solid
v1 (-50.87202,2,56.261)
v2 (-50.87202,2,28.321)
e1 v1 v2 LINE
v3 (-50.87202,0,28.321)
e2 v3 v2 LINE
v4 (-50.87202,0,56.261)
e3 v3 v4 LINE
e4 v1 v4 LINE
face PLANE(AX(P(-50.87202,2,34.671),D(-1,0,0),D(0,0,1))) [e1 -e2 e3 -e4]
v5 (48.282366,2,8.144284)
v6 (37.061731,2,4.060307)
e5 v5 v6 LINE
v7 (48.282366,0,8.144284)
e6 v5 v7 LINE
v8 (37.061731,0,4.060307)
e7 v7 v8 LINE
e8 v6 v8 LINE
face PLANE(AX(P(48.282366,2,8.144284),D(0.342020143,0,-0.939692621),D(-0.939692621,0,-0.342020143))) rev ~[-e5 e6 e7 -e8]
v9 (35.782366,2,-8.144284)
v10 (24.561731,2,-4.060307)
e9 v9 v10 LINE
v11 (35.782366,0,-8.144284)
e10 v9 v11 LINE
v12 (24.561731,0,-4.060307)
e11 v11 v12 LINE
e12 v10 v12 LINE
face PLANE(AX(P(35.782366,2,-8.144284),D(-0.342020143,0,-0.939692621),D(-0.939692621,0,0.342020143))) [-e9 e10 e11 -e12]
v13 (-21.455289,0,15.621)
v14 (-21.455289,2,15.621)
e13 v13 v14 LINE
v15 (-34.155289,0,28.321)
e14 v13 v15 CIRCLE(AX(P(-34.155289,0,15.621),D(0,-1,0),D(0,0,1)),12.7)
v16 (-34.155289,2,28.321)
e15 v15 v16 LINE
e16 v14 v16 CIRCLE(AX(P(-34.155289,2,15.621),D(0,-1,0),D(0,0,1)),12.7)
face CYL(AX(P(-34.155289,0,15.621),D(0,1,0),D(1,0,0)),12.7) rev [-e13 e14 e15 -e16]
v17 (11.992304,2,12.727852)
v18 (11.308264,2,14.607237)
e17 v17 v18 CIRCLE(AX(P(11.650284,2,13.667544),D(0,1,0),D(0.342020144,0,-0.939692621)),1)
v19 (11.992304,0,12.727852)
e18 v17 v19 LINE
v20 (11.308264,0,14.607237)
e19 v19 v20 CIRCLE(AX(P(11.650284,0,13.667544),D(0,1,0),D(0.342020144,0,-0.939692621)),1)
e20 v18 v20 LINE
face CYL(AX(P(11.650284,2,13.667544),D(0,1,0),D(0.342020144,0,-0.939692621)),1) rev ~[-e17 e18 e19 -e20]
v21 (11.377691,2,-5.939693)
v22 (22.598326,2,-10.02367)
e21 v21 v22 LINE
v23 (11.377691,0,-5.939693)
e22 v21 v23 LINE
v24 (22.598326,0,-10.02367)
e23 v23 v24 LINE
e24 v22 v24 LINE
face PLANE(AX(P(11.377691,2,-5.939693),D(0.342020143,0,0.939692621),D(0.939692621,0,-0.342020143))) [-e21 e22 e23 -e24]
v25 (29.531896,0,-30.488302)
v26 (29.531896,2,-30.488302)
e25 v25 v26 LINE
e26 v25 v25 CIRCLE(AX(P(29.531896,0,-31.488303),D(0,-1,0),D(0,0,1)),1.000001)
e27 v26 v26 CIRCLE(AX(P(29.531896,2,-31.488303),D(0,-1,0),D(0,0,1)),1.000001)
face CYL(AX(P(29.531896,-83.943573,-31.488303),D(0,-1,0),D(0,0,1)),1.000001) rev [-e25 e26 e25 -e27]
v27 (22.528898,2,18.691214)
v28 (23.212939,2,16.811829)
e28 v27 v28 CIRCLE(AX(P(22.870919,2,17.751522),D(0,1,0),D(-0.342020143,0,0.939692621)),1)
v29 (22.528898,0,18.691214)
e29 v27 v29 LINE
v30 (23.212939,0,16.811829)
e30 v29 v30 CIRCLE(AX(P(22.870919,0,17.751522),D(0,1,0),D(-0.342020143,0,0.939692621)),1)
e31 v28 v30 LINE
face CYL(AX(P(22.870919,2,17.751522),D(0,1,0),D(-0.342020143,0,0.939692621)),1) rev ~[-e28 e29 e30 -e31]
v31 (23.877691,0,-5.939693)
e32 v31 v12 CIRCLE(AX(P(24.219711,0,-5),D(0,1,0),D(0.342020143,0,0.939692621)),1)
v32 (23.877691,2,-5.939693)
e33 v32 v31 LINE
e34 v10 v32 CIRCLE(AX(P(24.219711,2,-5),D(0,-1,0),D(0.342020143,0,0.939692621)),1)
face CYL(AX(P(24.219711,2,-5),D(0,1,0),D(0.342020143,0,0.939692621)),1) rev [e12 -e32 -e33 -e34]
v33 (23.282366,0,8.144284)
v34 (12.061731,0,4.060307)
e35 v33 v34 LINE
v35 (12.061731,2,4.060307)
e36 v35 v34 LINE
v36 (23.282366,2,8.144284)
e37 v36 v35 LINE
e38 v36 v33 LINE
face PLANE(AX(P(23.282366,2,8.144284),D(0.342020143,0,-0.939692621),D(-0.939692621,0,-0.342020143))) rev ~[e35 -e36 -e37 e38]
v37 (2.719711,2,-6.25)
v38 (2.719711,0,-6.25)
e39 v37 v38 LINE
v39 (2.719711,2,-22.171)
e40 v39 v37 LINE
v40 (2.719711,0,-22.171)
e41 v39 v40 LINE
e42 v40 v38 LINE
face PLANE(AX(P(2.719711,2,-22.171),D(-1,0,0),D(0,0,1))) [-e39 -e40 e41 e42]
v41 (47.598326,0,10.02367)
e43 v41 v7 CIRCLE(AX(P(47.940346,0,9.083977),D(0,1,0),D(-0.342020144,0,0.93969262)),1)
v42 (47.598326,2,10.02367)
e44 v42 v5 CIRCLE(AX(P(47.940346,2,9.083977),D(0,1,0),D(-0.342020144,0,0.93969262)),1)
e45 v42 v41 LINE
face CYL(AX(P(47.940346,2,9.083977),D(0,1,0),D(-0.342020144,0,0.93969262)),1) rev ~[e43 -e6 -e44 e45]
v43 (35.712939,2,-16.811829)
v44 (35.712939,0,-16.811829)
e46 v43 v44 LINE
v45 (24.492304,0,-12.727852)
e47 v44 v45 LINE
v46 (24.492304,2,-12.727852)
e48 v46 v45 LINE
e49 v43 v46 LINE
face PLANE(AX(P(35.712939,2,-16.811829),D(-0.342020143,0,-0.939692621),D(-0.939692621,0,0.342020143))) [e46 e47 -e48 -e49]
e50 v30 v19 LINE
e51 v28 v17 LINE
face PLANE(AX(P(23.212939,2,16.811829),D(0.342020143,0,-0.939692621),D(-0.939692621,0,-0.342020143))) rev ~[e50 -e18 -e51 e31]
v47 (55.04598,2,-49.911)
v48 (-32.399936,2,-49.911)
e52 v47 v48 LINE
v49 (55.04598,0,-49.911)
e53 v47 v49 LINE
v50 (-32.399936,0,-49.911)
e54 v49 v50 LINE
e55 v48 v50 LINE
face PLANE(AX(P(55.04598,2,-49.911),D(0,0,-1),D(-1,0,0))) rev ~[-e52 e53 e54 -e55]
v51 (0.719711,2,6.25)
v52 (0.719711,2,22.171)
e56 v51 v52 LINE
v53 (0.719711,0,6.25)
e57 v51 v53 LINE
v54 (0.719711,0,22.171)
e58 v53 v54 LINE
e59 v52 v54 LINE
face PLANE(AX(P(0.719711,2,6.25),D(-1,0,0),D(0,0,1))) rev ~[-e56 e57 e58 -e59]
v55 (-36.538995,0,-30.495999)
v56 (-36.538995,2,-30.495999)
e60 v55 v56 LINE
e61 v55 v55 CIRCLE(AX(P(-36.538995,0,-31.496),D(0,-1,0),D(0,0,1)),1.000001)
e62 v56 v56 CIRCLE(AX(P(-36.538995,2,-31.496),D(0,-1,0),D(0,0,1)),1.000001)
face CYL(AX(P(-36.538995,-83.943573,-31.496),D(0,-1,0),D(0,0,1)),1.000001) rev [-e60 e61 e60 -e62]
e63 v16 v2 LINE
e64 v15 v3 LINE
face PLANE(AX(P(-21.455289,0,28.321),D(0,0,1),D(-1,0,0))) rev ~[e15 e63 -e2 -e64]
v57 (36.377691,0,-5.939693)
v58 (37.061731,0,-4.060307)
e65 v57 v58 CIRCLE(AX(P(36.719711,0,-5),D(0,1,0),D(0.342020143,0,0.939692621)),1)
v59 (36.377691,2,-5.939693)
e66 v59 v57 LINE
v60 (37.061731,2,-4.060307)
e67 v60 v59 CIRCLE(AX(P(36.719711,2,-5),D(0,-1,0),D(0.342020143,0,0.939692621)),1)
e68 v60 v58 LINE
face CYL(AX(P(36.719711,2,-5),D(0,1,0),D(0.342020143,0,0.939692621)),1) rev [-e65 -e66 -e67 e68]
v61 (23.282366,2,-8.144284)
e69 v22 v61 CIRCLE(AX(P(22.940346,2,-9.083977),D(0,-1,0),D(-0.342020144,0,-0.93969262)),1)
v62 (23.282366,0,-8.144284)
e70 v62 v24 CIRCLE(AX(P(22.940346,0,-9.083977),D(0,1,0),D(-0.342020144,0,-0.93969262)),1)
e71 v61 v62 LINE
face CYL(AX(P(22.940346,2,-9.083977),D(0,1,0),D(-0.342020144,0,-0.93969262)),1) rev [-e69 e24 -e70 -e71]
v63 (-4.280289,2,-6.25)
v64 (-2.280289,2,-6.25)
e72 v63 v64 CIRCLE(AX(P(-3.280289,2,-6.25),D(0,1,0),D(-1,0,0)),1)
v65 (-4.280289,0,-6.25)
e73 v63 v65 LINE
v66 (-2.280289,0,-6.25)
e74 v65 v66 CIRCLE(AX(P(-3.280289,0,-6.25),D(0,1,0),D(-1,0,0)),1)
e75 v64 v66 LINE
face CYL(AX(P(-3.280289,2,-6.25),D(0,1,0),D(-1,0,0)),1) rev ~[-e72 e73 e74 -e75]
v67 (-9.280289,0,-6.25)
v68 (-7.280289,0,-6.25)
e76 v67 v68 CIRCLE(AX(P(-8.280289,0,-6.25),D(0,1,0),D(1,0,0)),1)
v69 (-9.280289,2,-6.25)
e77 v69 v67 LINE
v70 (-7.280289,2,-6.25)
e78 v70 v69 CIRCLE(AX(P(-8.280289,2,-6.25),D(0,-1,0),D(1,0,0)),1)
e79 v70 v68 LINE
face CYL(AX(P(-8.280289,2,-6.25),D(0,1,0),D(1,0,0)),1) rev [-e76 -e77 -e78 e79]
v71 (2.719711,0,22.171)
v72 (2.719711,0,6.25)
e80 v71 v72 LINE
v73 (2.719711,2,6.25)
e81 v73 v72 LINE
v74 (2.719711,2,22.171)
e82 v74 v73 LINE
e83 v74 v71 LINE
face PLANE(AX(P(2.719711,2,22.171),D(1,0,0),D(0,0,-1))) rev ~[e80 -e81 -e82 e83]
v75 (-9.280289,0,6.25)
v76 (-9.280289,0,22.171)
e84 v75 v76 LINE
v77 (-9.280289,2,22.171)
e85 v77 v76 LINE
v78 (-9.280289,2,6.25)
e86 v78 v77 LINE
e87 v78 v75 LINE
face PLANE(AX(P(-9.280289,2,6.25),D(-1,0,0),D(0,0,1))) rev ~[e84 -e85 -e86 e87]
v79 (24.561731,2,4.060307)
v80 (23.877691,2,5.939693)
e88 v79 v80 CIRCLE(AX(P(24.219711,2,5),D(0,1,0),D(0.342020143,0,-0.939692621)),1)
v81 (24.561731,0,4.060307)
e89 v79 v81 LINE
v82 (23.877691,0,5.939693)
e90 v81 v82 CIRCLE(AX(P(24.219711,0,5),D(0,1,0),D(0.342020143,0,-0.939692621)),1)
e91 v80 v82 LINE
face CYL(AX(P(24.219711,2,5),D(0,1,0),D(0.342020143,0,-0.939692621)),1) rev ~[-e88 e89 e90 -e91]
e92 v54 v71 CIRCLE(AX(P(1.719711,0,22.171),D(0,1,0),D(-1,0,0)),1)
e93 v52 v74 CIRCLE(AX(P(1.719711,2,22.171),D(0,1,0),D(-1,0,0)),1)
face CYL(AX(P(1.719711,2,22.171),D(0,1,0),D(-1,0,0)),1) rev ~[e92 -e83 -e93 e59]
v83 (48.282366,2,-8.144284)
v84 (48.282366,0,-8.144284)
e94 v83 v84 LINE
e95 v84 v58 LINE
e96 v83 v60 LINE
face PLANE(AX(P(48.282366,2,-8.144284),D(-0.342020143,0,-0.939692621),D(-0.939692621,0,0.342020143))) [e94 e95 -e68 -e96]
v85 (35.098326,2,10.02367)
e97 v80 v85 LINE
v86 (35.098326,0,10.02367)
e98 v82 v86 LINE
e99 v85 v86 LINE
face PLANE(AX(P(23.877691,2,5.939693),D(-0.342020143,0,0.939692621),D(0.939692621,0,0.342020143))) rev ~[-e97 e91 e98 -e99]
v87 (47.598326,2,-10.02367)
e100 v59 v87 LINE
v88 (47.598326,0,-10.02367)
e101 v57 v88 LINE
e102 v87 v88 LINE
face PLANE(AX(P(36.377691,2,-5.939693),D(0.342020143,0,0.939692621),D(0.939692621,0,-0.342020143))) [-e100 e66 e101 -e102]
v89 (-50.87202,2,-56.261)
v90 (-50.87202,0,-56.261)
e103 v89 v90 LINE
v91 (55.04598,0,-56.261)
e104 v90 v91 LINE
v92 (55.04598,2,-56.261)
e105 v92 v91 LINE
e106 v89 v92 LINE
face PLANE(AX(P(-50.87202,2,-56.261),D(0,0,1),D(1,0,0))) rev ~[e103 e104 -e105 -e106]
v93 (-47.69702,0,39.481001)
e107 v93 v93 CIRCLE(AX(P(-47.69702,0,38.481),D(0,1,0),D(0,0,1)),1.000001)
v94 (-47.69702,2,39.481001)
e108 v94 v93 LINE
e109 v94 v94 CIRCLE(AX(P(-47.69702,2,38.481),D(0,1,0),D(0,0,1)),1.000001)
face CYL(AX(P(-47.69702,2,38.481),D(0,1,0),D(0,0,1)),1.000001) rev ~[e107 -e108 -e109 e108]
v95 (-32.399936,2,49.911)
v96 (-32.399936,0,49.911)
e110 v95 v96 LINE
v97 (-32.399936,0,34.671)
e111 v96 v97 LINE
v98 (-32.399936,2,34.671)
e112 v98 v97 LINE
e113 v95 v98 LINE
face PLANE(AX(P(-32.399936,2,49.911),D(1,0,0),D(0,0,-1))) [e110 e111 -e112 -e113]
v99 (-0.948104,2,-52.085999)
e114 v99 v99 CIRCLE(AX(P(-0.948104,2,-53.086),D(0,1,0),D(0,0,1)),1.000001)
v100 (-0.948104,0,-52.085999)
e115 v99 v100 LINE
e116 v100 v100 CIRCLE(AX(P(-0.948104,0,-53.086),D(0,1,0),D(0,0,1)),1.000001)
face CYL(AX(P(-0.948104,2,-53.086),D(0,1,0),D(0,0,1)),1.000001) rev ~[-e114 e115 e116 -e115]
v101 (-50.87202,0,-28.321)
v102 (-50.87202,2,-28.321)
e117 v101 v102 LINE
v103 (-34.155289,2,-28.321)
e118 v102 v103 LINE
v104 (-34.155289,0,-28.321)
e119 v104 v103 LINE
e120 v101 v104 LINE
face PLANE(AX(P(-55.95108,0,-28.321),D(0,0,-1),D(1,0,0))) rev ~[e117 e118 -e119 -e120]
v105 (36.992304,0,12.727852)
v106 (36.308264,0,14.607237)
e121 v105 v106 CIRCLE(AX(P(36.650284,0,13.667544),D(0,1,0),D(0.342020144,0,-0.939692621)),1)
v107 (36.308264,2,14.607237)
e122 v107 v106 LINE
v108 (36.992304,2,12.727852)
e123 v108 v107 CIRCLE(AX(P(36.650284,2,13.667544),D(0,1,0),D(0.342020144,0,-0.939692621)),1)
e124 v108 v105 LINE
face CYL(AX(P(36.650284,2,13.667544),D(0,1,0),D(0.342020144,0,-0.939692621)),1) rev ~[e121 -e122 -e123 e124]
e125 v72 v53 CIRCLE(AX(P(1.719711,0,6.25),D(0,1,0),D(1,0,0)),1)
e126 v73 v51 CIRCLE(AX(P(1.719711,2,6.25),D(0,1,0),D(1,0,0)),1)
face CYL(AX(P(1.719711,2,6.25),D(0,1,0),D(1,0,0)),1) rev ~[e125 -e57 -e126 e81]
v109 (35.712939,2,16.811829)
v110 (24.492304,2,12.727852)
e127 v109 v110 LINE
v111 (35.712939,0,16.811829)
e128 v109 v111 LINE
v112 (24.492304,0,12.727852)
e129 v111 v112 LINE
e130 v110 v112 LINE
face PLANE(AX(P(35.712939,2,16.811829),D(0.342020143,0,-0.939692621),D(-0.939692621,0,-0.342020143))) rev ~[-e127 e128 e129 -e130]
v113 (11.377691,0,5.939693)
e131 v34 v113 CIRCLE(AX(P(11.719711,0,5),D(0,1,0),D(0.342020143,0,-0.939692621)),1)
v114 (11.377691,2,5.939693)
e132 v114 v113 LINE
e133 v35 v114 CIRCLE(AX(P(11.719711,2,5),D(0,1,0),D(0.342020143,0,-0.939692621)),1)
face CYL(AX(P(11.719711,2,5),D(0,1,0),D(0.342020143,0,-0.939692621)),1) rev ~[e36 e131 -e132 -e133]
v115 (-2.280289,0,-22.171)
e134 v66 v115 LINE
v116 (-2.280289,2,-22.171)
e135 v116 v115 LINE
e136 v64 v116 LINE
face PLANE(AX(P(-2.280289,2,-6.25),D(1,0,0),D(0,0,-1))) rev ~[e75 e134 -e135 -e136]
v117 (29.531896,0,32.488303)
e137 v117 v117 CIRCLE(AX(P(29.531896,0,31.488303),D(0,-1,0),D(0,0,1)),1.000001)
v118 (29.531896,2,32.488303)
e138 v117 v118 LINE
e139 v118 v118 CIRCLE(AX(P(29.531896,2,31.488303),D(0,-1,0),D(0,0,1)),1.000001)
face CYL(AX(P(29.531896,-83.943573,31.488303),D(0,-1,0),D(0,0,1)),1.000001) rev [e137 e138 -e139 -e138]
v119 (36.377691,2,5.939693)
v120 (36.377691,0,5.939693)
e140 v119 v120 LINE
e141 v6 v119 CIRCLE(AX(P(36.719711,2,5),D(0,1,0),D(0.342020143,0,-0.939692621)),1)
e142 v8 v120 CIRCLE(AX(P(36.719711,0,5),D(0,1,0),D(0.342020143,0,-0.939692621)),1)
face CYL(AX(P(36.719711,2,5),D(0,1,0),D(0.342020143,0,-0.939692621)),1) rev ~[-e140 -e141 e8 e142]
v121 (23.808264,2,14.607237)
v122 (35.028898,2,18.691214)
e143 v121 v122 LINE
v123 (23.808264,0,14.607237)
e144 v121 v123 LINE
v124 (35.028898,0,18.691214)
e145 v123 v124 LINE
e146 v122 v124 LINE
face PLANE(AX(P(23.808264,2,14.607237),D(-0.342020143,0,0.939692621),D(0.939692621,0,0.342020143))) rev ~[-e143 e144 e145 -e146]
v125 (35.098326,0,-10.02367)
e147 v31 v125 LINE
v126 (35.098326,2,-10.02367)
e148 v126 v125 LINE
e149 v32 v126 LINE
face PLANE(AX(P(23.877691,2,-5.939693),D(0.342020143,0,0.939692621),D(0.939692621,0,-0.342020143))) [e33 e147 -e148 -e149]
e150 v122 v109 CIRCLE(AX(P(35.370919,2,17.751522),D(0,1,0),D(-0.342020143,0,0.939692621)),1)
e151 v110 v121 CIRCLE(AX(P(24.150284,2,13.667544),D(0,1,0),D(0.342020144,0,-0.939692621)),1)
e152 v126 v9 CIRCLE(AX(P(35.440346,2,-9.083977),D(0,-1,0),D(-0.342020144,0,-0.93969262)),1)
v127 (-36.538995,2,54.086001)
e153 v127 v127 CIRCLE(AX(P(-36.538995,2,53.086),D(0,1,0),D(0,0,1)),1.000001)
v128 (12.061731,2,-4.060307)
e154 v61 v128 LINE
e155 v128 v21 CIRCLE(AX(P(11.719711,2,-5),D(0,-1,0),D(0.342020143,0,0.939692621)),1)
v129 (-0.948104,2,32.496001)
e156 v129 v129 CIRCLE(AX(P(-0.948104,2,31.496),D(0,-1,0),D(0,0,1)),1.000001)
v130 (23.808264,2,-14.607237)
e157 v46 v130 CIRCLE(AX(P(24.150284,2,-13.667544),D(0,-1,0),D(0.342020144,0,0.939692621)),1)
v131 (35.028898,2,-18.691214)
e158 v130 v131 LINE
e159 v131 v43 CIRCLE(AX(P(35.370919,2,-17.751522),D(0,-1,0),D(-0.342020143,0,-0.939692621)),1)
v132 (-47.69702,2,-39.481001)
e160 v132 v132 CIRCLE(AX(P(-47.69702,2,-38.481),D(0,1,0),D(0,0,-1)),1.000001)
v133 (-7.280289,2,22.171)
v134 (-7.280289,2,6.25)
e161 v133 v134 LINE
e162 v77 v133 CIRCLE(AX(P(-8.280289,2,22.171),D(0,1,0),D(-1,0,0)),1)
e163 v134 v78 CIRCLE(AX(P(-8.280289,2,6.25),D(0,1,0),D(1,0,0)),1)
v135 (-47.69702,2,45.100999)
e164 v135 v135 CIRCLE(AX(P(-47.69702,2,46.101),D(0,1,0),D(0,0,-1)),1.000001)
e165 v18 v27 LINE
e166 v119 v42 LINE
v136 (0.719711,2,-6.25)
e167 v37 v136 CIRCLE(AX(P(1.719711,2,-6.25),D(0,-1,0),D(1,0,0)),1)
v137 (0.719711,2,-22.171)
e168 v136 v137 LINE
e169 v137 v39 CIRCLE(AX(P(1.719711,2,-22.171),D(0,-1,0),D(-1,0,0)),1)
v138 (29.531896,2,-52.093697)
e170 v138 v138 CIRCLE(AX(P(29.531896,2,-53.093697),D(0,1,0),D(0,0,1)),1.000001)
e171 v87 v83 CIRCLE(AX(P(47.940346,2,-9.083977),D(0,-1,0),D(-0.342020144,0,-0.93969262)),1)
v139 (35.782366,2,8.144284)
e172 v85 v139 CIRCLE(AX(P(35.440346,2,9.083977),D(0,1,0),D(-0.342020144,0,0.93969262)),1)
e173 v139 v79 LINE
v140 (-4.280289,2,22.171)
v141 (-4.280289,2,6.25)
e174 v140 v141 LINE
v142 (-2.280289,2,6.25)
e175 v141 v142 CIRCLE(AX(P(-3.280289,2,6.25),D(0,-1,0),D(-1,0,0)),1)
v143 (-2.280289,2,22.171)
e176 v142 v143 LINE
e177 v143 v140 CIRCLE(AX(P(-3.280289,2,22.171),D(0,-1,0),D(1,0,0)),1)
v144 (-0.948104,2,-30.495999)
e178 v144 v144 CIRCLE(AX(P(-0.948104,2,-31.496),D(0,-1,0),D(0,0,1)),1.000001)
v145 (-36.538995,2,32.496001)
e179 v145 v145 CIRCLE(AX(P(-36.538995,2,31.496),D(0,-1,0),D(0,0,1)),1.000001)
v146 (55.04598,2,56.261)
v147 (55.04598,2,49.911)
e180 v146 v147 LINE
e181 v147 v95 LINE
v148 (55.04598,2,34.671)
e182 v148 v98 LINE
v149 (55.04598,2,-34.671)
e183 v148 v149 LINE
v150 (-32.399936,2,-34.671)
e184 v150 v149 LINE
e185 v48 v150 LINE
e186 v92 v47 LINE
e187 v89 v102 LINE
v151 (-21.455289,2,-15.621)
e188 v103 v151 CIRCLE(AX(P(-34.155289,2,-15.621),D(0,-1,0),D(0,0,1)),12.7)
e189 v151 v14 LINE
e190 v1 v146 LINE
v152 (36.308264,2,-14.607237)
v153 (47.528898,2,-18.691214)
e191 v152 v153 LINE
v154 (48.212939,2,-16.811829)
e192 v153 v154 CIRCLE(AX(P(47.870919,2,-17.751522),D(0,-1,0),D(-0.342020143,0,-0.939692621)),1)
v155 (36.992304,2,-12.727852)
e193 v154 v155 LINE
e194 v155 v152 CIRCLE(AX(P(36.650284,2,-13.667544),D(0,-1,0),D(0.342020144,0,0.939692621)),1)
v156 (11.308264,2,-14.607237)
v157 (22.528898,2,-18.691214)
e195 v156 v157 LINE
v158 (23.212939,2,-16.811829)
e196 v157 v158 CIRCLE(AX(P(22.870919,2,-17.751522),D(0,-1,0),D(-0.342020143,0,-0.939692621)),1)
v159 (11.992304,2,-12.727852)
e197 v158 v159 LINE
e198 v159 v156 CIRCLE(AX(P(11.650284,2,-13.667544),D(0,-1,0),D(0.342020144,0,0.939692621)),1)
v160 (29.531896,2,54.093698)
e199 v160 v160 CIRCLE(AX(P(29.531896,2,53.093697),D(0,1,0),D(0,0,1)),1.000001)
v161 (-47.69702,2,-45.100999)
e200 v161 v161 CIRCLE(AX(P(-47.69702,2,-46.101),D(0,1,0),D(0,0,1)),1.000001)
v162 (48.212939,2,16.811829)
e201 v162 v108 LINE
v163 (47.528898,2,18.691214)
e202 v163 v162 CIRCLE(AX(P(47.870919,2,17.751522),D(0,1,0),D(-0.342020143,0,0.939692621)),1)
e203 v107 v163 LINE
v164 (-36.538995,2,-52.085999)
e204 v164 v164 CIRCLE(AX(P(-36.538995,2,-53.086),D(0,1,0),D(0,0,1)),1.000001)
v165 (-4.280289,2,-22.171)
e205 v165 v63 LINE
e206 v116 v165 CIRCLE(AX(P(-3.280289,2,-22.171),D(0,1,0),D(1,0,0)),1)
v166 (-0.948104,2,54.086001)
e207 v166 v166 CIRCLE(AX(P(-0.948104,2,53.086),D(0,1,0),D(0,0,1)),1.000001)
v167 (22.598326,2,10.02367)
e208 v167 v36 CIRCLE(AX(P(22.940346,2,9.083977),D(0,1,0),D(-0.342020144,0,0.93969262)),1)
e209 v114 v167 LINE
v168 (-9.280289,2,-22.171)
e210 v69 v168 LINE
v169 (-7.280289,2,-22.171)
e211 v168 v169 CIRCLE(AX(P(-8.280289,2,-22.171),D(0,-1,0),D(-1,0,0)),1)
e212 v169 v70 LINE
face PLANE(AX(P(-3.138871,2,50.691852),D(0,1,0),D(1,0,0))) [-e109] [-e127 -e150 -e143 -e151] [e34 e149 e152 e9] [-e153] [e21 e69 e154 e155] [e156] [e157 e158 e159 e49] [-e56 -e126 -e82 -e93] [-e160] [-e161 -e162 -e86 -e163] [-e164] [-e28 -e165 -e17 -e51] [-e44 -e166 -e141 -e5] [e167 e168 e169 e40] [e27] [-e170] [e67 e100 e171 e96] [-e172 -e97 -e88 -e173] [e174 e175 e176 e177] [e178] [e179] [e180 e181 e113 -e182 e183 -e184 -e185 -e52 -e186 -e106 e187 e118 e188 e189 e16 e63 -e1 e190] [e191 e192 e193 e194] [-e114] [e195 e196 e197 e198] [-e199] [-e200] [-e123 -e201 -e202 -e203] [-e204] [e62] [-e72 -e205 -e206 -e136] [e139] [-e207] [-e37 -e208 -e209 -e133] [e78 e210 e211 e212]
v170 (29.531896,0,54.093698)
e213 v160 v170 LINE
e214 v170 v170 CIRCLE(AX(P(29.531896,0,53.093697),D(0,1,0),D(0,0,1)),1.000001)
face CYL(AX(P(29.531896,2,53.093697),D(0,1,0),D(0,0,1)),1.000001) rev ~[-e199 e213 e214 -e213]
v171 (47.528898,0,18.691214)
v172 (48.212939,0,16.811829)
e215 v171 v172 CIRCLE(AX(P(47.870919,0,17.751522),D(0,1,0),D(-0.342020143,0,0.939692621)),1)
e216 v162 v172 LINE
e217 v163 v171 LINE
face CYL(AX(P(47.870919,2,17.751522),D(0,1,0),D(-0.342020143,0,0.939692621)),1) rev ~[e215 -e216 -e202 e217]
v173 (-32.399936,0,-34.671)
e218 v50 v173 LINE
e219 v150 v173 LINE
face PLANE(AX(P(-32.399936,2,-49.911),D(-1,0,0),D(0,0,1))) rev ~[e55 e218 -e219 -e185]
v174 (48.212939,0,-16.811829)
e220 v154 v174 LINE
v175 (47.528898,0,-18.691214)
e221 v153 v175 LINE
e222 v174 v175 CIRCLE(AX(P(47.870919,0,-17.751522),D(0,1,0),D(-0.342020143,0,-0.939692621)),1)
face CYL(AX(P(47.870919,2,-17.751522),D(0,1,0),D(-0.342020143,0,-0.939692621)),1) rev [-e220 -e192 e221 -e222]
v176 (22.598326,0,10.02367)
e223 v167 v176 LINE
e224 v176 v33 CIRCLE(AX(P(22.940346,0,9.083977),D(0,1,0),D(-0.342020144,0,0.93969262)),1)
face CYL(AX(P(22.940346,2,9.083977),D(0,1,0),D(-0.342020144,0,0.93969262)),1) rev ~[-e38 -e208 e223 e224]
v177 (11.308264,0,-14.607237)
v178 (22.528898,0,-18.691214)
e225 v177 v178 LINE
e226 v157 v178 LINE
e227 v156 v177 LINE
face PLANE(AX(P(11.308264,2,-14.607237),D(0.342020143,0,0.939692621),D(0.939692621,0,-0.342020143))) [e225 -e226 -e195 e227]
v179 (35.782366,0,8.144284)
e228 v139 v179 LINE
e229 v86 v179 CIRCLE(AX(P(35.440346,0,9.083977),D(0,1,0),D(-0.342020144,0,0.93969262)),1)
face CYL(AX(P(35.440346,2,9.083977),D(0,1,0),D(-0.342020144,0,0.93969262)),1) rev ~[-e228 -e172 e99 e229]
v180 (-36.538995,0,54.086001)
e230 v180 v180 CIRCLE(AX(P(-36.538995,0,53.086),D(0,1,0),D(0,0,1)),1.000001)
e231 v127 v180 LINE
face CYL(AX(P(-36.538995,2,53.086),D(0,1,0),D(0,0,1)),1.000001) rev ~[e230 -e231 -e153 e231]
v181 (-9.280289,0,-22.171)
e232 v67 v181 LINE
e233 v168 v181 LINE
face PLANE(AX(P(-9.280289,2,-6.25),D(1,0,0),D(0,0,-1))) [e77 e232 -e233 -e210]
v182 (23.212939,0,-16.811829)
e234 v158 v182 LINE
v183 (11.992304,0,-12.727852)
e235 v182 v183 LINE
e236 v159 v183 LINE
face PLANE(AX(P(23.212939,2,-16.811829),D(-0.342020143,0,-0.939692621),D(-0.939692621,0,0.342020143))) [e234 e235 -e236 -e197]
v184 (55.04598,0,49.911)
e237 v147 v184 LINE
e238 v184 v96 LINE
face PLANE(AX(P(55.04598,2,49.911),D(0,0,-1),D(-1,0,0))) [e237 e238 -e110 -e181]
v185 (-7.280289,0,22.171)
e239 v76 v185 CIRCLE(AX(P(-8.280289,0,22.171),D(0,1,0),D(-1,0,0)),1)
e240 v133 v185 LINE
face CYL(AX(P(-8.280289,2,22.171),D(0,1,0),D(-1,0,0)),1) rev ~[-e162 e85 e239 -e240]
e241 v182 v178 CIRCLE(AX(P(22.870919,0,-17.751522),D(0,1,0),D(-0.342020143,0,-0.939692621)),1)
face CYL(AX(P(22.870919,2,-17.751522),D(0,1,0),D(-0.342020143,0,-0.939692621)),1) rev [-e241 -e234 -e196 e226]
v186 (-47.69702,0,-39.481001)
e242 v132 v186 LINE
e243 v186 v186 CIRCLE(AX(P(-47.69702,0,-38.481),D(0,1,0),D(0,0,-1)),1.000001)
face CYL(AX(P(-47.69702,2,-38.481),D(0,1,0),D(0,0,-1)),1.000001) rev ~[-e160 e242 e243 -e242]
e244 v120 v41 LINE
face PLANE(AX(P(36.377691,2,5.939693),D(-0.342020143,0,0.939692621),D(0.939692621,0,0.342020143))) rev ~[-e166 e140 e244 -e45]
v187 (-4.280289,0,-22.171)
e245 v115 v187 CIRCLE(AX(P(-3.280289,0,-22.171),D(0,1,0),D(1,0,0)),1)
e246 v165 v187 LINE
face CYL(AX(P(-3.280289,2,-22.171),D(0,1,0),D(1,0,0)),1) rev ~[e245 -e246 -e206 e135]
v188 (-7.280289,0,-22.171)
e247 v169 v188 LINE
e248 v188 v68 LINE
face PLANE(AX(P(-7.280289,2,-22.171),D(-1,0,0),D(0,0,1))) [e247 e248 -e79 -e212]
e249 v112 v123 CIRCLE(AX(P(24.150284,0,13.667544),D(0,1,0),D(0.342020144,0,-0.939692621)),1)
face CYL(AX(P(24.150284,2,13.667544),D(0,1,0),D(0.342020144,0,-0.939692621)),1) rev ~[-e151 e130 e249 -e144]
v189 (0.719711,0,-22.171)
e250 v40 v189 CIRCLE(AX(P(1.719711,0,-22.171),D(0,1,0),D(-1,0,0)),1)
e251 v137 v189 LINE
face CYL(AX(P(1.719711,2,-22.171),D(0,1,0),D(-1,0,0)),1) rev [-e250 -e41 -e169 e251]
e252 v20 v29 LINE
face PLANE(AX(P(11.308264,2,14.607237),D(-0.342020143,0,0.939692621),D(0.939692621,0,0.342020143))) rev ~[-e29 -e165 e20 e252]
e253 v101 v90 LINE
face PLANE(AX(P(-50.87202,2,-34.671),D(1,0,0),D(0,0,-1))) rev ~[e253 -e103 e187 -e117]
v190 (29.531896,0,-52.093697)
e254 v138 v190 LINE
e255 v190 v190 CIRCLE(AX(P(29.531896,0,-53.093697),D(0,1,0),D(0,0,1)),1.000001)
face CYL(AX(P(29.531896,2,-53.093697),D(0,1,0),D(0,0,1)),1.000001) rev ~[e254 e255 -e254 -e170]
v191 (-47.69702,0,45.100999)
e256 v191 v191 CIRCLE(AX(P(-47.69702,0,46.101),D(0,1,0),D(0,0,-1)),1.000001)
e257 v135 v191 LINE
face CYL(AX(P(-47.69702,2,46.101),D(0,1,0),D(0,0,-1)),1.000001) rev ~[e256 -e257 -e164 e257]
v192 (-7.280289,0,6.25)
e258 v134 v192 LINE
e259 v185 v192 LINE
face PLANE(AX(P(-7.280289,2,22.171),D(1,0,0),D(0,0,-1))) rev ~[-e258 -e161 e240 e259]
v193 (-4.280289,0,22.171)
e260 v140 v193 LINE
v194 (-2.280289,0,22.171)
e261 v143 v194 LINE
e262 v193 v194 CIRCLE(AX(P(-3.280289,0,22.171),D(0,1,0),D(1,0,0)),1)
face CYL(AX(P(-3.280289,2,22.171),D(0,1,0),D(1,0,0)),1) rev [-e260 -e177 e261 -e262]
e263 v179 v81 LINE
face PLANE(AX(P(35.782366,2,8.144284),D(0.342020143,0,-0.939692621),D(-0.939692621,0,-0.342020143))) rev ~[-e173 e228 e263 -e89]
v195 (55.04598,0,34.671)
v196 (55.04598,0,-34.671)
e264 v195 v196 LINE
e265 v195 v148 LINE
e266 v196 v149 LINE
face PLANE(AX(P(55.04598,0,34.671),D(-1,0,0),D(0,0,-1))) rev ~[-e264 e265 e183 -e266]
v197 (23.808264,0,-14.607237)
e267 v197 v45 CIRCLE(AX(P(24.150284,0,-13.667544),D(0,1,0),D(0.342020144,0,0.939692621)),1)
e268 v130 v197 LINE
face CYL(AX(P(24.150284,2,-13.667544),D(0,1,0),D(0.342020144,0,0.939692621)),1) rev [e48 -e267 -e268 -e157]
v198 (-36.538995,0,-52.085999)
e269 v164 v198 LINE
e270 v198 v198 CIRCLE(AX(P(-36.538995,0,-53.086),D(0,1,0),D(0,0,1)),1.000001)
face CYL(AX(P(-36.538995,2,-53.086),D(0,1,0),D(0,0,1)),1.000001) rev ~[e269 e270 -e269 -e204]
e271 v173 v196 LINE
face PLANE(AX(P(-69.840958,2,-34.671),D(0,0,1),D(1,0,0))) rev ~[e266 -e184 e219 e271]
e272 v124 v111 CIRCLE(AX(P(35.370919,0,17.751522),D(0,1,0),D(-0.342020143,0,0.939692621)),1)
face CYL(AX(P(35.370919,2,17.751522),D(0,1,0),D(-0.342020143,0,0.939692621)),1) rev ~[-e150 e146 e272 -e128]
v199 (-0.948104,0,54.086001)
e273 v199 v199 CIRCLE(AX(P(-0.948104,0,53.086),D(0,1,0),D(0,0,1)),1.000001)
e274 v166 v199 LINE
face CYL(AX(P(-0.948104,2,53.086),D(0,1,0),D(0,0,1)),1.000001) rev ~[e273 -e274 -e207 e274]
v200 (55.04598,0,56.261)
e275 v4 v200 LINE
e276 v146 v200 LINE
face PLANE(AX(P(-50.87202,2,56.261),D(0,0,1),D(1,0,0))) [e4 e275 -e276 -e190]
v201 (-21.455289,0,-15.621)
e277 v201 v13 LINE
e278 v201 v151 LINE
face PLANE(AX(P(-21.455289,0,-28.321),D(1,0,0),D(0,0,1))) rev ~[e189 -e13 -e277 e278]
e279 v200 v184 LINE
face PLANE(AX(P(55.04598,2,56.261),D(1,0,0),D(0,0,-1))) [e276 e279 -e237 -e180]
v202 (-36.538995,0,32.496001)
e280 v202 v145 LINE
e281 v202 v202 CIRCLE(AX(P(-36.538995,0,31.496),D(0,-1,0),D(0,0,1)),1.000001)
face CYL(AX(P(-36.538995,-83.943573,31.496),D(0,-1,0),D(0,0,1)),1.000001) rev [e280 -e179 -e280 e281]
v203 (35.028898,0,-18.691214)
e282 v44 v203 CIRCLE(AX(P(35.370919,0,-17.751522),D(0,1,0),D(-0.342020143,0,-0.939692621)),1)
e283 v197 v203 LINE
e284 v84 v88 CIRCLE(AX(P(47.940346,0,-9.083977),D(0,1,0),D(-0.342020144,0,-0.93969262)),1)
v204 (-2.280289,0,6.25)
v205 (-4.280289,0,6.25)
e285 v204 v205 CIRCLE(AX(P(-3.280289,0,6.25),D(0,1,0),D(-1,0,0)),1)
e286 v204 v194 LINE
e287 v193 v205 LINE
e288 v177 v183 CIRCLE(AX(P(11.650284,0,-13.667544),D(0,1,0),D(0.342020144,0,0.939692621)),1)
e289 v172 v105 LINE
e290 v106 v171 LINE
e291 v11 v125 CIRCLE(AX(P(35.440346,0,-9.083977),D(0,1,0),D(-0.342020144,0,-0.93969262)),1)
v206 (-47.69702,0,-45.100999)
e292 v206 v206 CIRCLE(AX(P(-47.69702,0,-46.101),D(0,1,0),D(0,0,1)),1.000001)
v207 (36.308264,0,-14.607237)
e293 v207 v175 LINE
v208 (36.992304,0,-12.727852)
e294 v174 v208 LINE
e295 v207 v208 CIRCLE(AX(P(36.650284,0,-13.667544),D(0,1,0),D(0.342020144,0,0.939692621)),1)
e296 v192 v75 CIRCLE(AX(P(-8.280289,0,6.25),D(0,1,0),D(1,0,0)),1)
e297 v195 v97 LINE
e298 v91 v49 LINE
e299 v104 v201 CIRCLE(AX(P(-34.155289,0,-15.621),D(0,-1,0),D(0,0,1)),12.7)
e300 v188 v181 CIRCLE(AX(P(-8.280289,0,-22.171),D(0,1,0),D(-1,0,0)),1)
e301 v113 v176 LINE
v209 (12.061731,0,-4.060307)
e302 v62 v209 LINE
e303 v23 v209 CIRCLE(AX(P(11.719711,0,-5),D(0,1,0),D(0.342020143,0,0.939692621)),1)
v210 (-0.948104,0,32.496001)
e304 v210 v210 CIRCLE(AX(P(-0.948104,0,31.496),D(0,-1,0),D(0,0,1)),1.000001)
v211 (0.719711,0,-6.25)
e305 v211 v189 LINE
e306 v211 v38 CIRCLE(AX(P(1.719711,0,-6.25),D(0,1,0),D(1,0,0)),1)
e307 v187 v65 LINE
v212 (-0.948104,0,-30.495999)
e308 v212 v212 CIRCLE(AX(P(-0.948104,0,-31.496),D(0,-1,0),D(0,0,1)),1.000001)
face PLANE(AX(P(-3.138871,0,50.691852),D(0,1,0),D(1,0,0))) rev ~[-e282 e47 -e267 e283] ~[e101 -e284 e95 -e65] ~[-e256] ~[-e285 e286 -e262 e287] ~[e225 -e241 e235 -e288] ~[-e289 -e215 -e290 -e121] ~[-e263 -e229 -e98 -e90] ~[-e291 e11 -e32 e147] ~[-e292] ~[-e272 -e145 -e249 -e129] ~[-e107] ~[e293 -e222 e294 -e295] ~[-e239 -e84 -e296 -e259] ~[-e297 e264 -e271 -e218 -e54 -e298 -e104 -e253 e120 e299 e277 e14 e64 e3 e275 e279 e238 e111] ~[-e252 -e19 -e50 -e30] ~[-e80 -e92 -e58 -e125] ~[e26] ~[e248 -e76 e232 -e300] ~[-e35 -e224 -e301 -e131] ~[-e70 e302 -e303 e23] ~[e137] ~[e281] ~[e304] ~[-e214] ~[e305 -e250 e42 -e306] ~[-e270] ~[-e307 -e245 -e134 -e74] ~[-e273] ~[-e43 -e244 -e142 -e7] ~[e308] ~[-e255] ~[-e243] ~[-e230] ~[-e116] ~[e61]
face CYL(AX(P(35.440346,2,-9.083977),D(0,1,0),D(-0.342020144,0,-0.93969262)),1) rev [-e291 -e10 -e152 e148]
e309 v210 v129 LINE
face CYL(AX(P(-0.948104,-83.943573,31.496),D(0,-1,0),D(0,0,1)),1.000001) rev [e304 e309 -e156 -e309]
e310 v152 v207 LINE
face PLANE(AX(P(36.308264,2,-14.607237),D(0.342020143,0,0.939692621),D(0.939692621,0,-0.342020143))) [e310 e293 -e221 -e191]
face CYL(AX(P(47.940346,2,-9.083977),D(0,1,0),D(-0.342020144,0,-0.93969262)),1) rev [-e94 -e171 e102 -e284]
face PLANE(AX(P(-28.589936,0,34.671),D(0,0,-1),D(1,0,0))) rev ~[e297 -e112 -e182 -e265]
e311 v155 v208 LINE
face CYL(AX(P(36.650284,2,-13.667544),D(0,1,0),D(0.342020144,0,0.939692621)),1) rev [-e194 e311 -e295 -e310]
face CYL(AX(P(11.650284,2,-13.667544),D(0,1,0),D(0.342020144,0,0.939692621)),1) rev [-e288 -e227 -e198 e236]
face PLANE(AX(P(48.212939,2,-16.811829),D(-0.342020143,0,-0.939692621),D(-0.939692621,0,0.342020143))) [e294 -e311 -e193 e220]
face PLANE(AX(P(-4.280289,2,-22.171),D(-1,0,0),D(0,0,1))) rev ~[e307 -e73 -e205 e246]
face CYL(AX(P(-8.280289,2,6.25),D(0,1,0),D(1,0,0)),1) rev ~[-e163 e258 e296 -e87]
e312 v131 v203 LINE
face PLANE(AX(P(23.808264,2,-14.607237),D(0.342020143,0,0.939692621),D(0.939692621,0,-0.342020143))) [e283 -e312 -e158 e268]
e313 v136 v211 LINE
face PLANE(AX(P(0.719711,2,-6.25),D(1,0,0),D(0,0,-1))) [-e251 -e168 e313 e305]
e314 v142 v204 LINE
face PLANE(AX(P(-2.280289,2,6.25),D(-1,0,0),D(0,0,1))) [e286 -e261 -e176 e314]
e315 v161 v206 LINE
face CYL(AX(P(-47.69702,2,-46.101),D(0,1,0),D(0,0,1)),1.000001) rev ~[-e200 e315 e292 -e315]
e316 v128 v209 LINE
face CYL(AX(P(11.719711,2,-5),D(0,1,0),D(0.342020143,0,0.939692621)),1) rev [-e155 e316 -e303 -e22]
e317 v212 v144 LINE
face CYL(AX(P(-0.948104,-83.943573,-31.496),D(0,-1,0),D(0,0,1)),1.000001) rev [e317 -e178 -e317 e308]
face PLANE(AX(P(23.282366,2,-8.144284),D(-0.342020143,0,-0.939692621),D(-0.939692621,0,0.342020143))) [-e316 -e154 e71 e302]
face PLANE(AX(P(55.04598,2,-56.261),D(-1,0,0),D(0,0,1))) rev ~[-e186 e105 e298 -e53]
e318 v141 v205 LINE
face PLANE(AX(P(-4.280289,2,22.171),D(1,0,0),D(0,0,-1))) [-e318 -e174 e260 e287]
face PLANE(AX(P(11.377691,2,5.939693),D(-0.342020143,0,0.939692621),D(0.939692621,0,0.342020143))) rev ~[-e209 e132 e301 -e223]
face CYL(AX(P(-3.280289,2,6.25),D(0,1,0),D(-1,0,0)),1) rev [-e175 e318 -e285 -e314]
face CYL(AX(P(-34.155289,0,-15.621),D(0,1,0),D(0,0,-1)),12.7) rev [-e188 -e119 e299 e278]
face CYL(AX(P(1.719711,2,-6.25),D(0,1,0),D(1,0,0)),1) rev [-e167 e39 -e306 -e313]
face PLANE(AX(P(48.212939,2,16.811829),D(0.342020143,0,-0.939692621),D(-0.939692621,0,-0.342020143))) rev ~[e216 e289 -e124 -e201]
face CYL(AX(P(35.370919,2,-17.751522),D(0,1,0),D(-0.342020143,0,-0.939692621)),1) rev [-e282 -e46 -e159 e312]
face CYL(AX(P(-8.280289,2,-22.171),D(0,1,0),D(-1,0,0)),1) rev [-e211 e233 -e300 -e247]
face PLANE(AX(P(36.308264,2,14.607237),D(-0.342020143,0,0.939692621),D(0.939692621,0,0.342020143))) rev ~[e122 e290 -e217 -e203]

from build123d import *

# Parameters (mm, degrees)
BOSS_EXTRUDE1_DEPTH     = 2
FILLET1_R               = 12.7
CUT_EXTRUDE1_DEPTH      = 85.94357346
CUT_EXTRUDE1_DEPTH_BACK = 85.94357346
SKETCH2_R               = 1.00000054
CUT_EXTRUDE2_DEPTH      = 85.94357346
CUT_EXTRUDE2_DEPTH_BACK = 85.94357346
SKETCH3_W               = 3.81
SKETCH3_H               = 22.86
CUT_EXTRUDE3_DEPTH      = 85.94357346
CUT_EXTRUDE4_DEPTH      = 85.94357346
SKETCH7_R               = 1.00000054
SKETCH7_W               = 1.965807504
SKETCH7_H               = 35.56
CUT_EXTRUDE5_DEPTH      = 85.94357346
SKETCH9_R               = 1.00000054
SKETCH9_W               = 5.08
SKETCH9_H               = 35.56
CUT_EXTRUDE6_DEPTH      = 85.94357346
SKETCH10_W              = 3.261861975
SKETCH10_H              = 39.805650988
SKETCH10_W_2            = 3.49604191
SKETCH10_H_2            = 37.586377376
BOSS_EXTRUDE2_DEPTH     = 2
SKETCH11_W              = 18.472083706
SKETCH11_H              = 7.62
CUT_EXTRUDE7_DEPTH      = 85.349523446
CUT_EXTRUDE8_DEPTH      = 85.349523446
SKETCH13_R              = 1.00000054
BOSS_EXTRUDE3_DEPTH     = 2
CUT_EXTRUDE9_DEPTH      = 85.349523446
SKETCH15_R              = 1.00000054
BOSS_EXTRUDE6_DEPTH     = 2
SKETCH16_W              = 4.512091431
SKETCH16_H              = 18.148634424
SKETCH16_W_2            = 6.251984605
SKETCH16_H_2            = 13.072331447
BOSS_EXTRUDE7_DEPTH     = 2
SKETCH17_R              = 1.00000054
CUT_EXTRUDE10_DEPTH     = 79.736015048


with BuildPart() as part:
    # Sketch1 → Boss-Extrude1 (new body)
    with BuildSketch(Plane(origin=(0, 0, 0), x_dir=(1, 0, 0), z_dir=(0, 1, 0))):
        Polygon((-55.952019723, 28.533921393), (-55.951080052, 28.321), (-21.455288819, 28.321), (-21.455288819, -28.321), (-55.952019723, -28.321), (-55.952019723, -63.881), (55.045980277, -63.881), (55.045980277, -57.531), (32.458455221, -57.531), (-28.589936017, -57.531), (-28.589936017, -46.101), (-28.589936017, -34.671), (32.458455221, -34.671), (55.045980277, -34.671), (55.045980277, 34.671), (32.458455221, 34.671), (-28.589936017, 34.671), (-28.589936017, 46.101), (-28.589936017, 57.531), (32.458455221, 57.531), (55.045980277, 57.531), (55.045980277, 63.881), (-55.952019723, 63.881), align=None)
    extrude(amount=BOSS_EXTRUDE1_DEPTH)

    # Fillet1
    fillet1_edges = [part.edges().sort_by_distance(p)[0] for p in [
        (-21.455288819, 1, 28.321),
        (-21.455288819, 1, -28.321),
    ]]
    fillet(fillet1_edges, radius=FILLET1_R)

    # Sketch2 → Cut-Extrude1 (cut, two sides: drawn at the far end of the back side and taken through both)
    with BuildSketch(Plane(origin=(0, 2, 0), x_dir=(1, 0, 0), z_dir=(0, 1, 0)).offset(-CUT_EXTRUDE1_DEPTH_BACK)):
        with Locations(Location((51.870980277, 0, 0), (0, 0, 270))):
            Circle(SKETCH2_R)
        with Locations(Location((51.870980277, 14.1605, 0), (0, 0, 270))):
            Circle(SKETCH2_R)
        with Locations(Location((-18.280288819, 0, 0), (0, 0, 270))):
            Circle(SKETCH2_R)
        with Locations(Location((-18.280288819, -14.1605, 0), (0, 0, 270))):
            Circle(SKETCH2_R)
        with Locations(Location((-18.280288819, 14.1605, 0), (0, 0, 270))):
            Circle(SKETCH2_R)
        with Locations(Location((-36.538995414, 31.496, 0), (0, 0, 270))):
            Circle(SKETCH2_R)
        with Locations(Location((-0.948104424, 31.496, 0), (0, 0, 270))):
            Circle(SKETCH2_R)
        with Locations(Location((29.531895576, 31.488302757, 0), (0, 0, 270))):
            Circle(SKETCH2_R)
        with Locations(Location((-52.777019723, 45.1485, 0), (0, 0, 270))):
            Circle(SKETCH2_R)
        with Locations(Location((-52.777019723, 53.4035, 0), (0, 0, 270))):
            Circle(SKETCH2_R)
        with Locations(Location((-36.538995414, 60.706, 0), (0, 0, 270))):
            Circle(SKETCH2_R)
        with Locations(Location((-0.948104424, 60.706, 0), (0, 0, 270))):
            Circle(SKETCH2_R)
        with Locations(Location((29.531895576, 60.713697243, 0), (0, 0, 270))):
            Circle(SKETCH2_R)
        with Locations(Location((29.531895576, -60.713697243, 0), (0, 0, 270))):
            Circle(SKETCH2_R)
        with Locations(Location((-0.948104424, -60.706, 0), (0, 0, 270))):
            Circle(SKETCH2_R)
        with Locations(Location((-36.538995414, -60.706, 0), (0, 0, 270))):
            Circle(SKETCH2_R)
        with Locations(Location((-52.777019723, -53.4035, 0), (0, 0, 270))):
            Circle(SKETCH2_R)
        with Locations(Location((-52.777019723, -45.1485, 0), (0, 0, 270))):
            Circle(SKETCH2_R)
        with Locations(Location((29.531895576, -31.488302757, 0), (0, 0, 270))):
            Circle(SKETCH2_R)
        with Locations(Location((-0.948104424, -31.496, 0), (0, 0, 270))):
            Circle(SKETCH2_R)
        with Locations(Location((-36.538995414, -31.496, 0), (0, 0, 270))):
            Circle(SKETCH2_R)
        with Locations(Location((51.870980277, -14.1605, 0), (0, 0, 270))):
            Circle(SKETCH2_R)
    extrude(amount=CUT_EXTRUDE1_DEPTH + CUT_EXTRUDE1_DEPTH_BACK, mode=Mode.SUBTRACT)

    # Sketch3 → Cut-Extrude2 (cut, two sides: drawn at the far end of the back side and taken through both)
    with BuildSketch(Plane(origin=(0, 2, 0), x_dir=(1, 0, 0), z_dir=(0, 1, 0)).offset(-CUT_EXTRUDE2_DEPTH_BACK)):
        with Locations((-30.494936017, -46.101)):
            Rectangle(SKETCH3_W, SKETCH3_H)
        with Locations((-30.494936017, 46.101)):
            Rectangle(SKETCH3_W, SKETCH3_H)
    extrude(amount=CUT_EXTRUDE2_DEPTH + CUT_EXTRUDE2_DEPTH_BACK, mode=Mode.SUBTRACT)

    # Sketch5 → Cut-Extrude3 (cut, through all)
    with BuildSketch(Plane(origin=(0, 2, 0), x_dir=(1, 0, 0), z_dir=(0, 1, 0))):
        with BuildLine():
            Line((-7.280288819, 22.171), (-7.280288819, 6.25))
            ThreePointArc((-7.280288819, 6.25), (-8.280288819, 5.25), (-9.280288819, 6.25))
            Line((-9.280288819, 6.25), (-9.280288819, 22.171))
            ThreePointArc((-9.280288819, 22.171), (-8.280288819, 23.171), (-7.280288819, 22.171))
        make_face()
        with BuildLine():
            Line((-7.280288819, -22.171), (-7.280288819, -6.25))
            ThreePointArc((-7.280288819, -6.25), (-8.280288819, -5.25), (-9.280288819, -6.25))
            Line((-9.280288819, -6.25), (-9.280288819, -22.171))
            ThreePointArc((-9.280288819, -22.171), (-8.280288819, -23.171), (-7.280288819, -22.171))
        make_face()
        with BuildLine():
            Line((-4.280288819, 22.171), (-4.280288819, 6.25))
            ThreePointArc((-4.280288819, 6.25), (-3.280288819, 5.25), (-2.280288819, 6.25))
            Line((-2.280288819, 6.25), (-2.280288819, 22.171))
            ThreePointArc((-2.280288819, 22.171), (-3.280288819, 23.171), (-4.280288819, 22.171))
        make_face()
        with BuildLine():
            Line((2.719711181, 22.171), (2.719711181, 6.25))
            ThreePointArc((2.719711181, 6.25), (1.719711181, 5.25), (0.719711181, 6.25))
            Line((0.719711181, 6.25), (0.719711181, 22.171))
            ThreePointArc((0.719711181, 22.171), (1.719711181, 23.171), (2.719711181, 22.171))
        make_face()
        with BuildLine():
            Line((2.719711181, -22.171), (2.719711181, -6.25))
            ThreePointArc((2.719711181, -6.25), (1.719711181, -5.25), (0.719711181, -6.25))
            Line((0.719711181, -6.25), (0.719711181, -22.171))
            ThreePointArc((0.719711181, -22.171), (1.719711181, -23.171), (2.719711181, -22.171))
        make_face()
        with BuildLine():
            Line((-4.280288819, -22.171), (-4.280288819, -6.25))
            ThreePointArc((-4.280288819, -6.25), (-3.280288819, -5.25), (-2.280288819, -6.25))
            Line((-2.280288819, -6.25), (-2.280288819, -22.171))
            ThreePointArc((-2.280288819, -22.171), (-3.280288819, -23.171), (-4.280288819, -22.171))
        make_face()
    extrude(amount=-CUT_EXTRUDE3_DEPTH, mode=Mode.SUBTRACT)

    # Sketch6 → Cut-Extrude4 (cut, through all)
    with BuildSketch(Plane(origin=(0, 2, 0), x_dir=(1, 0, 0), z_dir=(0, 1, 0))):
        with BuildLine():
            Line((23.282365986, 8.144284406), (12.061731324, 4.060307379))
            ThreePointArc((12.061731324, 4.060307379), (10.78001856, 4.657979857), (11.377691038, 5.939692621))
            Line((11.377691038, 5.939692621), (22.598325699, 10.023669647))
            ThreePointArc((22.598325699, 10.023669647), (23.880038464, 9.42599717), (23.282365986, 8.144284406))
        make_face()
        with BuildLine():
            Line((35.782365986, 8.144284406), (24.561731324, 4.060307379))
            ThreePointArc((24.561731324, 4.060307379), (23.28001856, 4.657979857), (23.877691038, 5.939692621))
            Line((23.877691038, 5.939692621), (35.098325699, 10.023669647))
            ThreePointArc((35.098325699, 10.023669647), (36.380038464, 9.42599717), (35.782365986, 8.144284406))
        make_face()
        with BuildLine():
            Line((48.282365986, 8.144284406), (37.061731324, 4.060307379))
            ThreePointArc((37.061731324, 4.060307379), (35.78001856, 4.657979857), (36.377691038, 5.939692621))
            Line((36.377691038, 5.939692621), (47.598325699, 10.023669647))
            ThreePointArc((47.598325699, 10.023669647), (48.880038464, 9.42599717), (48.282365986, 8.144284406))
        make_face()
        with BuildLine():
            Line((23.212938712, 16.811828882), (11.992304051, 12.727851856))
            ThreePointArc((11.992304051, 12.727851856), (10.710591286, 13.325524333), (11.308263764, 14.607237098))
            Line((11.308263764, 14.607237098), (22.528898426, 18.691214124))
            ThreePointArc((22.528898426, 18.691214124), (23.81061119, 18.093541647), (23.212938712, 16.811828882))
        make_face()
        with BuildLine():
            Line((35.712938712, 16.811828882), (24.492304051, 12.727851856))
            ThreePointArc((24.492304051, 12.727851856), (23.210591286, 13.325524333), (23.808263764, 14.607237098))
            Line((23.808263764, 14.607237098), (35.028898426, 18.691214124))
            ThreePointArc((35.028898426, 18.691214124), (36.31061119, 18.093541647), (35.712938712, 16.811828882))
        make_face()
        with BuildLine():
            Line((48.212938712, 16.811828882), (36.992304051, 12.727851856))
            ThreePointArc((36.992304051, 12.727851856), (35.710591286, 13.325524333), (36.308263764, 14.607237098))
            Line((36.308263764, 14.607237098), (47.528898426, 18.691214124))
            ThreePointArc((47.528898426, 18.691214124), (48.81061119, 18.093541647), (48.212938712, 16.811828882))
        make_face()
        with BuildLine():
            Line((48.282365986, -8.144284406), (37.061731324, -4.060307379))
            ThreePointArc((37.061731324, -4.060307379), (35.78001856, -4.657979857), (36.377691038, -5.939692621))
            Line((36.377691038, -5.939692621), (47.598325699, -10.023669647))
            ThreePointArc((47.598325699, -10.023669647), (48.880038464, -9.42599717), (48.282365986, -8.144284406))
        make_face()
        with BuildLine():
            Line((35.782365986, -8.144284406), (24.561731324, -4.060307379))
            ThreePointArc((24.561731324, -4.060307379), (23.28001856, -4.657979857), (23.877691038, -5.939692621))
            Line((23.877691038, -5.939692621), (35.098325699, -10.023669647))
            ThreePointArc((35.098325699, -10.023669647), (36.380038464, -9.42599717), (35.782365986, -8.144284406))
        make_face()
        with BuildLine():
            Line((23.282365986, -8.144284406), (12.061731324, -4.060307379))
            ThreePointArc((12.061731324, -4.060307379), (10.78001856, -4.657979857), (11.377691038, -5.939692621))
            Line((11.377691038, -5.939692621), (22.598325699, -10.023669647))
            ThreePointArc((22.598325699, -10.023669647), (23.880038464, -9.42599717), (23.282365986, -8.144284406))
        make_face()
        with BuildLine():
            Line((48.212938712, -16.811828882), (36.992304051, -12.727851856))
            ThreePointArc((36.992304051, -12.727851856), (35.710591286, -13.325524333), (36.308263764, -14.607237098))
            Line((36.308263764, -14.607237098), (47.528898426, -18.691214124))
            ThreePointArc((47.528898426, -18.691214124), (48.81061119, -18.093541647), (48.212938712, -16.811828882))
        make_face()
        with BuildLine():
            Line((35.712938712, -16.811828882), (24.492304051, -12.727851856))
            ThreePointArc((24.492304051, -12.727851856), (23.210591286, -13.325524333), (23.808263764, -14.607237098))
            Line((23.808263764, -14.607237098), (35.028898426, -18.691214124))
            ThreePointArc((35.028898426, -18.691214124), (36.31061119, -18.093541647), (35.712938712, -16.811828882))
        make_face()
        with BuildLine():
            Line((23.212938712, -16.811828882), (11.992304051, -12.727851856))
            ThreePointArc((11.992304051, -12.727851856), (10.710591286, -13.325524333), (11.308263764, -14.607237098))
            Line((11.308263764, -14.607237098), (22.528898426, -18.691214124))
            ThreePointArc((22.528898426, -18.691214124), (23.81061119, -18.093541647), (23.212938712, -16.811828882))
        make_face()
    extrude(amount=-CUT_EXTRUDE4_DEPTH, mode=Mode.SUBTRACT)

    # Sketch7 → Cut-Extrude5 (cut, through all)
    with BuildSketch(Plane.XZ):
        with Locations((-54.742827227, 53.4035)):
            Circle(SKETCH7_R)
        with Locations((-54.742827227, 45.1485)):
            Circle(SKETCH7_R)
        with Locations((-54.742827227, -45.1485)):
            Circle(SKETCH7_R)
        with Locations((-54.742827227, -53.4035)):
            Circle(SKETCH7_R)
        with Locations((-56.934923475, 46.101)):
            Rectangle(SKETCH7_W, SKETCH7_H)
        with Locations((-56.934923475, -46.101)):
            Rectangle(SKETCH7_W, SKETCH7_H)
    extrude(amount=-CUT_EXTRUDE5_DEPTH, mode=Mode.SUBTRACT)

    # Sketch9 → Cut-Extrude6 (cut, through all)
    with BuildSketch(Plane.XZ):
        with Locations(Location((-47.697019723, 53.4035, 0), (0, 0, 270))):
            Circle(SKETCH9_R)
        with Locations(Location((-47.697019723, 45.1485, 0), (0, 0, 270))):
            Circle(SKETCH9_R)
        with Locations(Location((-47.697019723, -45.1485, 0), (0, 0, 90))):
            Circle(SKETCH9_R)
        with Locations(Location((-47.697019723, -53.4035, 0), (0, 0, 90))):
            Circle(SKETCH9_R)
        with Locations((-53.412019723, 46.101)):
            Rectangle(SKETCH9_W, SKETCH9_H)
        with Locations((-53.412019723, -46.101)):
            Rectangle(SKETCH9_W, SKETCH9_H)
    extrude(amount=-CUT_EXTRUDE6_DEPTH, mode=Mode.SUBTRACT)

    # Sketch10 → Boss-Extrude2 (add)
    with BuildSketch(Plane(origin=(0, 2, 0), x_dir=(1, 0, 0), z_dir=(0, 1, 0))):
        with Locations((-18.280288819, 0)):
            Rectangle(SKETCH10_W, SKETCH10_H)
        with Locations((51.870980277, 0)):
            Rectangle(SKETCH10_W_2, SKETCH10_H_2)
    extrude(amount=-BOSS_EXTRUDE2_DEPTH)

    # Sketch11 → Cut-Extrude7 (cut, through all)
    with BuildSketch(Plane(origin=(0, 2, 0), x_dir=(1, 0, 0), z_dir=(0, 1, 0))):
        with Locations((-41.63597787, -38.481)):
            Rectangle(SKETCH11_W, SKETCH11_H)
    extrude(amount=-CUT_EXTRUDE7_DEPTH, mode=Mode.SUBTRACT)


with BuildPart() as cut_extrude7_piece_1:
    # of the separate pieces the step leaves, piece 1, a body of its own (cut_extrude7_pieces)
    add(part.part.solids().sort_by_distance((-50.872019723, 2, -28.321))[0])

    # Sketch12 → Cut-Extrude8 (cut, through all)
    with BuildSketch(Plane(origin=(0, 2, 0), x_dir=(1, 0, 0), z_dir=(0, 1, 0))):
        Polygon((-32.399936017, 34.671), (-69.840957795, 34.671), (-69.840957795, 70.713964433), (61.672853026, 70.713964433), (61.672853026, 34.671), align=None)
    extrude(amount=-CUT_EXTRUDE8_DEPTH, mode=Mode.SUBTRACT)

    # Sketch13 → Boss-Extrude3 (add)
    with BuildSketch(Plane(origin=(0, 2, 0), x_dir=(1, 0, 0), z_dir=(0, 1, 0))):
        Polygon((55.045980277, 49.911), (-32.399936017, 49.911), (-32.399936017, 34.671), (-50.872019723, 34.671), (-50.872019723, 56.261), (55.045980277, 56.261), align=None)
        with Locations(Location((29.531895576, 53.093697243, 0), (0, 0, 270))):
            Circle(SKETCH13_R, mode=Mode.SUBTRACT)
        with Locations(Location((-0.948104424, 53.086, 0), (0, 0, 270))):
            Circle(SKETCH13_R, mode=Mode.SUBTRACT)
        with Locations(Location((-36.538995414, 53.086, 0), (0, 0, 270))):
            Circle(SKETCH13_R, mode=Mode.SUBTRACT)
        with Locations(Location((-47.697019723, 45.7835, 0), (0, 0, 270))):
            Circle(SKETCH13_R, mode=Mode.SUBTRACT)
        with Locations(Location((-47.697019723, 37.5285, 0), (0, 0, 270))):
            Circle(SKETCH13_R, mode=Mode.SUBTRACT)
    extrude(amount=-BOSS_EXTRUDE3_DEPTH)

    # Sketch15 → Boss-Extrude6 (add)
    with BuildSketch(Plane(origin=(0, 2, 0), x_dir=(1, 0, 0), z_dir=(0, 1, 0))):
        Polygon((-50.872019723, -34.671), (-50.872019723, -56.261), (55.045980277, -56.261), (55.045980277, -49.911), (-32.399936017, -49.911), (-32.399936017, -34.671), align=None)
        with Locations(Location((-47.697019723, -45.7835, 0), (0, 0, 270))):
            Circle(SKETCH15_R, mode=Mode.SUBTRACT)
        with Locations(Location((-47.697019723, -37.5285, 0), (0, 0, 270))):
            Circle(SKETCH15_R, mode=Mode.SUBTRACT)
        with Locations(Location((-36.538995414, -53.086, 0), (0, 0, 270))):
            Circle(SKETCH15_R, mode=Mode.SUBTRACT)
        with Locations(Location((-0.948104424, -53.086, 0), (0, 0, 270))):
            Circle(SKETCH15_R, mode=Mode.SUBTRACT)
        with Locations(Location((29.531895576, -53.093697243, 0), (0, 0, 270))):
            Circle(SKETCH15_R, mode=Mode.SUBTRACT)
    extrude(amount=-BOSS_EXTRUDE6_DEPTH)

    # Sketch16 → Boss-Extrude7 (add)
    with BuildSketch(Plane.XZ):
        with Locations((-48.131896009, -42.111008016)):
            Rectangle(SKETCH16_W, SKETCH16_H)
        with Locations((-47.11527877, 41.979427187)):
            Rectangle(SKETCH16_W_2, SKETCH16_H_2)
    extrude(amount=-BOSS_EXTRUDE7_DEPTH)

    # Sketch17 → Cut-Extrude10 (cut, through all)
    with BuildSketch(Plane(origin=(0, 2, 0), x_dir=(1, 0, 0), z_dir=(0, 1, 0))):
        with Locations(Location((-47.697019723, -38.481, 0), (0, 0, 270))):
            Circle(SKETCH17_R)
        with Locations(Location((-47.697019723, -46.101, 0), (0, 0, 90))):
            Circle(SKETCH17_R)
        with Locations(Location((-47.697019723, 38.481, 0), (0, 0, 90))):
            Circle(SKETCH17_R)
        with Locations(Location((-47.697019723, 46.101, 0), (0, 0, 270))):
            Circle(SKETCH17_R)
    extrude(amount=-CUT_EXTRUDE10_DEPTH, mode=Mode.SUBTRACT)


with BuildPart() as cut_extrude7_piece_2:
    # of the separate pieces the step leaves, piece 2, a body of its own (cut_extrude7_pieces)
    add(part.part.solids().sort_by_distance((-32.399936017, 2, 42.291))[0])

    # Sketch14 → Cut-Extrude9 (cut, through all)
    with BuildSketch(Plane(origin=(0, 2, 0), x_dir=(1, 0, 0), z_dir=(0, 1, 0))):
        Polygon((-32.399936017, -42.291), (-50.872019723, -42.291), (-50.872019723, -63.881), (55.045980277, -63.881), (55.045980277, -57.531), (-32.399936017, -57.531), align=None)
    extrude(amount=-CUT_EXTRUDE9_DEPTH, mode=Mode.SUBTRACT)


solid = cut_extrude7_piece_1.part
